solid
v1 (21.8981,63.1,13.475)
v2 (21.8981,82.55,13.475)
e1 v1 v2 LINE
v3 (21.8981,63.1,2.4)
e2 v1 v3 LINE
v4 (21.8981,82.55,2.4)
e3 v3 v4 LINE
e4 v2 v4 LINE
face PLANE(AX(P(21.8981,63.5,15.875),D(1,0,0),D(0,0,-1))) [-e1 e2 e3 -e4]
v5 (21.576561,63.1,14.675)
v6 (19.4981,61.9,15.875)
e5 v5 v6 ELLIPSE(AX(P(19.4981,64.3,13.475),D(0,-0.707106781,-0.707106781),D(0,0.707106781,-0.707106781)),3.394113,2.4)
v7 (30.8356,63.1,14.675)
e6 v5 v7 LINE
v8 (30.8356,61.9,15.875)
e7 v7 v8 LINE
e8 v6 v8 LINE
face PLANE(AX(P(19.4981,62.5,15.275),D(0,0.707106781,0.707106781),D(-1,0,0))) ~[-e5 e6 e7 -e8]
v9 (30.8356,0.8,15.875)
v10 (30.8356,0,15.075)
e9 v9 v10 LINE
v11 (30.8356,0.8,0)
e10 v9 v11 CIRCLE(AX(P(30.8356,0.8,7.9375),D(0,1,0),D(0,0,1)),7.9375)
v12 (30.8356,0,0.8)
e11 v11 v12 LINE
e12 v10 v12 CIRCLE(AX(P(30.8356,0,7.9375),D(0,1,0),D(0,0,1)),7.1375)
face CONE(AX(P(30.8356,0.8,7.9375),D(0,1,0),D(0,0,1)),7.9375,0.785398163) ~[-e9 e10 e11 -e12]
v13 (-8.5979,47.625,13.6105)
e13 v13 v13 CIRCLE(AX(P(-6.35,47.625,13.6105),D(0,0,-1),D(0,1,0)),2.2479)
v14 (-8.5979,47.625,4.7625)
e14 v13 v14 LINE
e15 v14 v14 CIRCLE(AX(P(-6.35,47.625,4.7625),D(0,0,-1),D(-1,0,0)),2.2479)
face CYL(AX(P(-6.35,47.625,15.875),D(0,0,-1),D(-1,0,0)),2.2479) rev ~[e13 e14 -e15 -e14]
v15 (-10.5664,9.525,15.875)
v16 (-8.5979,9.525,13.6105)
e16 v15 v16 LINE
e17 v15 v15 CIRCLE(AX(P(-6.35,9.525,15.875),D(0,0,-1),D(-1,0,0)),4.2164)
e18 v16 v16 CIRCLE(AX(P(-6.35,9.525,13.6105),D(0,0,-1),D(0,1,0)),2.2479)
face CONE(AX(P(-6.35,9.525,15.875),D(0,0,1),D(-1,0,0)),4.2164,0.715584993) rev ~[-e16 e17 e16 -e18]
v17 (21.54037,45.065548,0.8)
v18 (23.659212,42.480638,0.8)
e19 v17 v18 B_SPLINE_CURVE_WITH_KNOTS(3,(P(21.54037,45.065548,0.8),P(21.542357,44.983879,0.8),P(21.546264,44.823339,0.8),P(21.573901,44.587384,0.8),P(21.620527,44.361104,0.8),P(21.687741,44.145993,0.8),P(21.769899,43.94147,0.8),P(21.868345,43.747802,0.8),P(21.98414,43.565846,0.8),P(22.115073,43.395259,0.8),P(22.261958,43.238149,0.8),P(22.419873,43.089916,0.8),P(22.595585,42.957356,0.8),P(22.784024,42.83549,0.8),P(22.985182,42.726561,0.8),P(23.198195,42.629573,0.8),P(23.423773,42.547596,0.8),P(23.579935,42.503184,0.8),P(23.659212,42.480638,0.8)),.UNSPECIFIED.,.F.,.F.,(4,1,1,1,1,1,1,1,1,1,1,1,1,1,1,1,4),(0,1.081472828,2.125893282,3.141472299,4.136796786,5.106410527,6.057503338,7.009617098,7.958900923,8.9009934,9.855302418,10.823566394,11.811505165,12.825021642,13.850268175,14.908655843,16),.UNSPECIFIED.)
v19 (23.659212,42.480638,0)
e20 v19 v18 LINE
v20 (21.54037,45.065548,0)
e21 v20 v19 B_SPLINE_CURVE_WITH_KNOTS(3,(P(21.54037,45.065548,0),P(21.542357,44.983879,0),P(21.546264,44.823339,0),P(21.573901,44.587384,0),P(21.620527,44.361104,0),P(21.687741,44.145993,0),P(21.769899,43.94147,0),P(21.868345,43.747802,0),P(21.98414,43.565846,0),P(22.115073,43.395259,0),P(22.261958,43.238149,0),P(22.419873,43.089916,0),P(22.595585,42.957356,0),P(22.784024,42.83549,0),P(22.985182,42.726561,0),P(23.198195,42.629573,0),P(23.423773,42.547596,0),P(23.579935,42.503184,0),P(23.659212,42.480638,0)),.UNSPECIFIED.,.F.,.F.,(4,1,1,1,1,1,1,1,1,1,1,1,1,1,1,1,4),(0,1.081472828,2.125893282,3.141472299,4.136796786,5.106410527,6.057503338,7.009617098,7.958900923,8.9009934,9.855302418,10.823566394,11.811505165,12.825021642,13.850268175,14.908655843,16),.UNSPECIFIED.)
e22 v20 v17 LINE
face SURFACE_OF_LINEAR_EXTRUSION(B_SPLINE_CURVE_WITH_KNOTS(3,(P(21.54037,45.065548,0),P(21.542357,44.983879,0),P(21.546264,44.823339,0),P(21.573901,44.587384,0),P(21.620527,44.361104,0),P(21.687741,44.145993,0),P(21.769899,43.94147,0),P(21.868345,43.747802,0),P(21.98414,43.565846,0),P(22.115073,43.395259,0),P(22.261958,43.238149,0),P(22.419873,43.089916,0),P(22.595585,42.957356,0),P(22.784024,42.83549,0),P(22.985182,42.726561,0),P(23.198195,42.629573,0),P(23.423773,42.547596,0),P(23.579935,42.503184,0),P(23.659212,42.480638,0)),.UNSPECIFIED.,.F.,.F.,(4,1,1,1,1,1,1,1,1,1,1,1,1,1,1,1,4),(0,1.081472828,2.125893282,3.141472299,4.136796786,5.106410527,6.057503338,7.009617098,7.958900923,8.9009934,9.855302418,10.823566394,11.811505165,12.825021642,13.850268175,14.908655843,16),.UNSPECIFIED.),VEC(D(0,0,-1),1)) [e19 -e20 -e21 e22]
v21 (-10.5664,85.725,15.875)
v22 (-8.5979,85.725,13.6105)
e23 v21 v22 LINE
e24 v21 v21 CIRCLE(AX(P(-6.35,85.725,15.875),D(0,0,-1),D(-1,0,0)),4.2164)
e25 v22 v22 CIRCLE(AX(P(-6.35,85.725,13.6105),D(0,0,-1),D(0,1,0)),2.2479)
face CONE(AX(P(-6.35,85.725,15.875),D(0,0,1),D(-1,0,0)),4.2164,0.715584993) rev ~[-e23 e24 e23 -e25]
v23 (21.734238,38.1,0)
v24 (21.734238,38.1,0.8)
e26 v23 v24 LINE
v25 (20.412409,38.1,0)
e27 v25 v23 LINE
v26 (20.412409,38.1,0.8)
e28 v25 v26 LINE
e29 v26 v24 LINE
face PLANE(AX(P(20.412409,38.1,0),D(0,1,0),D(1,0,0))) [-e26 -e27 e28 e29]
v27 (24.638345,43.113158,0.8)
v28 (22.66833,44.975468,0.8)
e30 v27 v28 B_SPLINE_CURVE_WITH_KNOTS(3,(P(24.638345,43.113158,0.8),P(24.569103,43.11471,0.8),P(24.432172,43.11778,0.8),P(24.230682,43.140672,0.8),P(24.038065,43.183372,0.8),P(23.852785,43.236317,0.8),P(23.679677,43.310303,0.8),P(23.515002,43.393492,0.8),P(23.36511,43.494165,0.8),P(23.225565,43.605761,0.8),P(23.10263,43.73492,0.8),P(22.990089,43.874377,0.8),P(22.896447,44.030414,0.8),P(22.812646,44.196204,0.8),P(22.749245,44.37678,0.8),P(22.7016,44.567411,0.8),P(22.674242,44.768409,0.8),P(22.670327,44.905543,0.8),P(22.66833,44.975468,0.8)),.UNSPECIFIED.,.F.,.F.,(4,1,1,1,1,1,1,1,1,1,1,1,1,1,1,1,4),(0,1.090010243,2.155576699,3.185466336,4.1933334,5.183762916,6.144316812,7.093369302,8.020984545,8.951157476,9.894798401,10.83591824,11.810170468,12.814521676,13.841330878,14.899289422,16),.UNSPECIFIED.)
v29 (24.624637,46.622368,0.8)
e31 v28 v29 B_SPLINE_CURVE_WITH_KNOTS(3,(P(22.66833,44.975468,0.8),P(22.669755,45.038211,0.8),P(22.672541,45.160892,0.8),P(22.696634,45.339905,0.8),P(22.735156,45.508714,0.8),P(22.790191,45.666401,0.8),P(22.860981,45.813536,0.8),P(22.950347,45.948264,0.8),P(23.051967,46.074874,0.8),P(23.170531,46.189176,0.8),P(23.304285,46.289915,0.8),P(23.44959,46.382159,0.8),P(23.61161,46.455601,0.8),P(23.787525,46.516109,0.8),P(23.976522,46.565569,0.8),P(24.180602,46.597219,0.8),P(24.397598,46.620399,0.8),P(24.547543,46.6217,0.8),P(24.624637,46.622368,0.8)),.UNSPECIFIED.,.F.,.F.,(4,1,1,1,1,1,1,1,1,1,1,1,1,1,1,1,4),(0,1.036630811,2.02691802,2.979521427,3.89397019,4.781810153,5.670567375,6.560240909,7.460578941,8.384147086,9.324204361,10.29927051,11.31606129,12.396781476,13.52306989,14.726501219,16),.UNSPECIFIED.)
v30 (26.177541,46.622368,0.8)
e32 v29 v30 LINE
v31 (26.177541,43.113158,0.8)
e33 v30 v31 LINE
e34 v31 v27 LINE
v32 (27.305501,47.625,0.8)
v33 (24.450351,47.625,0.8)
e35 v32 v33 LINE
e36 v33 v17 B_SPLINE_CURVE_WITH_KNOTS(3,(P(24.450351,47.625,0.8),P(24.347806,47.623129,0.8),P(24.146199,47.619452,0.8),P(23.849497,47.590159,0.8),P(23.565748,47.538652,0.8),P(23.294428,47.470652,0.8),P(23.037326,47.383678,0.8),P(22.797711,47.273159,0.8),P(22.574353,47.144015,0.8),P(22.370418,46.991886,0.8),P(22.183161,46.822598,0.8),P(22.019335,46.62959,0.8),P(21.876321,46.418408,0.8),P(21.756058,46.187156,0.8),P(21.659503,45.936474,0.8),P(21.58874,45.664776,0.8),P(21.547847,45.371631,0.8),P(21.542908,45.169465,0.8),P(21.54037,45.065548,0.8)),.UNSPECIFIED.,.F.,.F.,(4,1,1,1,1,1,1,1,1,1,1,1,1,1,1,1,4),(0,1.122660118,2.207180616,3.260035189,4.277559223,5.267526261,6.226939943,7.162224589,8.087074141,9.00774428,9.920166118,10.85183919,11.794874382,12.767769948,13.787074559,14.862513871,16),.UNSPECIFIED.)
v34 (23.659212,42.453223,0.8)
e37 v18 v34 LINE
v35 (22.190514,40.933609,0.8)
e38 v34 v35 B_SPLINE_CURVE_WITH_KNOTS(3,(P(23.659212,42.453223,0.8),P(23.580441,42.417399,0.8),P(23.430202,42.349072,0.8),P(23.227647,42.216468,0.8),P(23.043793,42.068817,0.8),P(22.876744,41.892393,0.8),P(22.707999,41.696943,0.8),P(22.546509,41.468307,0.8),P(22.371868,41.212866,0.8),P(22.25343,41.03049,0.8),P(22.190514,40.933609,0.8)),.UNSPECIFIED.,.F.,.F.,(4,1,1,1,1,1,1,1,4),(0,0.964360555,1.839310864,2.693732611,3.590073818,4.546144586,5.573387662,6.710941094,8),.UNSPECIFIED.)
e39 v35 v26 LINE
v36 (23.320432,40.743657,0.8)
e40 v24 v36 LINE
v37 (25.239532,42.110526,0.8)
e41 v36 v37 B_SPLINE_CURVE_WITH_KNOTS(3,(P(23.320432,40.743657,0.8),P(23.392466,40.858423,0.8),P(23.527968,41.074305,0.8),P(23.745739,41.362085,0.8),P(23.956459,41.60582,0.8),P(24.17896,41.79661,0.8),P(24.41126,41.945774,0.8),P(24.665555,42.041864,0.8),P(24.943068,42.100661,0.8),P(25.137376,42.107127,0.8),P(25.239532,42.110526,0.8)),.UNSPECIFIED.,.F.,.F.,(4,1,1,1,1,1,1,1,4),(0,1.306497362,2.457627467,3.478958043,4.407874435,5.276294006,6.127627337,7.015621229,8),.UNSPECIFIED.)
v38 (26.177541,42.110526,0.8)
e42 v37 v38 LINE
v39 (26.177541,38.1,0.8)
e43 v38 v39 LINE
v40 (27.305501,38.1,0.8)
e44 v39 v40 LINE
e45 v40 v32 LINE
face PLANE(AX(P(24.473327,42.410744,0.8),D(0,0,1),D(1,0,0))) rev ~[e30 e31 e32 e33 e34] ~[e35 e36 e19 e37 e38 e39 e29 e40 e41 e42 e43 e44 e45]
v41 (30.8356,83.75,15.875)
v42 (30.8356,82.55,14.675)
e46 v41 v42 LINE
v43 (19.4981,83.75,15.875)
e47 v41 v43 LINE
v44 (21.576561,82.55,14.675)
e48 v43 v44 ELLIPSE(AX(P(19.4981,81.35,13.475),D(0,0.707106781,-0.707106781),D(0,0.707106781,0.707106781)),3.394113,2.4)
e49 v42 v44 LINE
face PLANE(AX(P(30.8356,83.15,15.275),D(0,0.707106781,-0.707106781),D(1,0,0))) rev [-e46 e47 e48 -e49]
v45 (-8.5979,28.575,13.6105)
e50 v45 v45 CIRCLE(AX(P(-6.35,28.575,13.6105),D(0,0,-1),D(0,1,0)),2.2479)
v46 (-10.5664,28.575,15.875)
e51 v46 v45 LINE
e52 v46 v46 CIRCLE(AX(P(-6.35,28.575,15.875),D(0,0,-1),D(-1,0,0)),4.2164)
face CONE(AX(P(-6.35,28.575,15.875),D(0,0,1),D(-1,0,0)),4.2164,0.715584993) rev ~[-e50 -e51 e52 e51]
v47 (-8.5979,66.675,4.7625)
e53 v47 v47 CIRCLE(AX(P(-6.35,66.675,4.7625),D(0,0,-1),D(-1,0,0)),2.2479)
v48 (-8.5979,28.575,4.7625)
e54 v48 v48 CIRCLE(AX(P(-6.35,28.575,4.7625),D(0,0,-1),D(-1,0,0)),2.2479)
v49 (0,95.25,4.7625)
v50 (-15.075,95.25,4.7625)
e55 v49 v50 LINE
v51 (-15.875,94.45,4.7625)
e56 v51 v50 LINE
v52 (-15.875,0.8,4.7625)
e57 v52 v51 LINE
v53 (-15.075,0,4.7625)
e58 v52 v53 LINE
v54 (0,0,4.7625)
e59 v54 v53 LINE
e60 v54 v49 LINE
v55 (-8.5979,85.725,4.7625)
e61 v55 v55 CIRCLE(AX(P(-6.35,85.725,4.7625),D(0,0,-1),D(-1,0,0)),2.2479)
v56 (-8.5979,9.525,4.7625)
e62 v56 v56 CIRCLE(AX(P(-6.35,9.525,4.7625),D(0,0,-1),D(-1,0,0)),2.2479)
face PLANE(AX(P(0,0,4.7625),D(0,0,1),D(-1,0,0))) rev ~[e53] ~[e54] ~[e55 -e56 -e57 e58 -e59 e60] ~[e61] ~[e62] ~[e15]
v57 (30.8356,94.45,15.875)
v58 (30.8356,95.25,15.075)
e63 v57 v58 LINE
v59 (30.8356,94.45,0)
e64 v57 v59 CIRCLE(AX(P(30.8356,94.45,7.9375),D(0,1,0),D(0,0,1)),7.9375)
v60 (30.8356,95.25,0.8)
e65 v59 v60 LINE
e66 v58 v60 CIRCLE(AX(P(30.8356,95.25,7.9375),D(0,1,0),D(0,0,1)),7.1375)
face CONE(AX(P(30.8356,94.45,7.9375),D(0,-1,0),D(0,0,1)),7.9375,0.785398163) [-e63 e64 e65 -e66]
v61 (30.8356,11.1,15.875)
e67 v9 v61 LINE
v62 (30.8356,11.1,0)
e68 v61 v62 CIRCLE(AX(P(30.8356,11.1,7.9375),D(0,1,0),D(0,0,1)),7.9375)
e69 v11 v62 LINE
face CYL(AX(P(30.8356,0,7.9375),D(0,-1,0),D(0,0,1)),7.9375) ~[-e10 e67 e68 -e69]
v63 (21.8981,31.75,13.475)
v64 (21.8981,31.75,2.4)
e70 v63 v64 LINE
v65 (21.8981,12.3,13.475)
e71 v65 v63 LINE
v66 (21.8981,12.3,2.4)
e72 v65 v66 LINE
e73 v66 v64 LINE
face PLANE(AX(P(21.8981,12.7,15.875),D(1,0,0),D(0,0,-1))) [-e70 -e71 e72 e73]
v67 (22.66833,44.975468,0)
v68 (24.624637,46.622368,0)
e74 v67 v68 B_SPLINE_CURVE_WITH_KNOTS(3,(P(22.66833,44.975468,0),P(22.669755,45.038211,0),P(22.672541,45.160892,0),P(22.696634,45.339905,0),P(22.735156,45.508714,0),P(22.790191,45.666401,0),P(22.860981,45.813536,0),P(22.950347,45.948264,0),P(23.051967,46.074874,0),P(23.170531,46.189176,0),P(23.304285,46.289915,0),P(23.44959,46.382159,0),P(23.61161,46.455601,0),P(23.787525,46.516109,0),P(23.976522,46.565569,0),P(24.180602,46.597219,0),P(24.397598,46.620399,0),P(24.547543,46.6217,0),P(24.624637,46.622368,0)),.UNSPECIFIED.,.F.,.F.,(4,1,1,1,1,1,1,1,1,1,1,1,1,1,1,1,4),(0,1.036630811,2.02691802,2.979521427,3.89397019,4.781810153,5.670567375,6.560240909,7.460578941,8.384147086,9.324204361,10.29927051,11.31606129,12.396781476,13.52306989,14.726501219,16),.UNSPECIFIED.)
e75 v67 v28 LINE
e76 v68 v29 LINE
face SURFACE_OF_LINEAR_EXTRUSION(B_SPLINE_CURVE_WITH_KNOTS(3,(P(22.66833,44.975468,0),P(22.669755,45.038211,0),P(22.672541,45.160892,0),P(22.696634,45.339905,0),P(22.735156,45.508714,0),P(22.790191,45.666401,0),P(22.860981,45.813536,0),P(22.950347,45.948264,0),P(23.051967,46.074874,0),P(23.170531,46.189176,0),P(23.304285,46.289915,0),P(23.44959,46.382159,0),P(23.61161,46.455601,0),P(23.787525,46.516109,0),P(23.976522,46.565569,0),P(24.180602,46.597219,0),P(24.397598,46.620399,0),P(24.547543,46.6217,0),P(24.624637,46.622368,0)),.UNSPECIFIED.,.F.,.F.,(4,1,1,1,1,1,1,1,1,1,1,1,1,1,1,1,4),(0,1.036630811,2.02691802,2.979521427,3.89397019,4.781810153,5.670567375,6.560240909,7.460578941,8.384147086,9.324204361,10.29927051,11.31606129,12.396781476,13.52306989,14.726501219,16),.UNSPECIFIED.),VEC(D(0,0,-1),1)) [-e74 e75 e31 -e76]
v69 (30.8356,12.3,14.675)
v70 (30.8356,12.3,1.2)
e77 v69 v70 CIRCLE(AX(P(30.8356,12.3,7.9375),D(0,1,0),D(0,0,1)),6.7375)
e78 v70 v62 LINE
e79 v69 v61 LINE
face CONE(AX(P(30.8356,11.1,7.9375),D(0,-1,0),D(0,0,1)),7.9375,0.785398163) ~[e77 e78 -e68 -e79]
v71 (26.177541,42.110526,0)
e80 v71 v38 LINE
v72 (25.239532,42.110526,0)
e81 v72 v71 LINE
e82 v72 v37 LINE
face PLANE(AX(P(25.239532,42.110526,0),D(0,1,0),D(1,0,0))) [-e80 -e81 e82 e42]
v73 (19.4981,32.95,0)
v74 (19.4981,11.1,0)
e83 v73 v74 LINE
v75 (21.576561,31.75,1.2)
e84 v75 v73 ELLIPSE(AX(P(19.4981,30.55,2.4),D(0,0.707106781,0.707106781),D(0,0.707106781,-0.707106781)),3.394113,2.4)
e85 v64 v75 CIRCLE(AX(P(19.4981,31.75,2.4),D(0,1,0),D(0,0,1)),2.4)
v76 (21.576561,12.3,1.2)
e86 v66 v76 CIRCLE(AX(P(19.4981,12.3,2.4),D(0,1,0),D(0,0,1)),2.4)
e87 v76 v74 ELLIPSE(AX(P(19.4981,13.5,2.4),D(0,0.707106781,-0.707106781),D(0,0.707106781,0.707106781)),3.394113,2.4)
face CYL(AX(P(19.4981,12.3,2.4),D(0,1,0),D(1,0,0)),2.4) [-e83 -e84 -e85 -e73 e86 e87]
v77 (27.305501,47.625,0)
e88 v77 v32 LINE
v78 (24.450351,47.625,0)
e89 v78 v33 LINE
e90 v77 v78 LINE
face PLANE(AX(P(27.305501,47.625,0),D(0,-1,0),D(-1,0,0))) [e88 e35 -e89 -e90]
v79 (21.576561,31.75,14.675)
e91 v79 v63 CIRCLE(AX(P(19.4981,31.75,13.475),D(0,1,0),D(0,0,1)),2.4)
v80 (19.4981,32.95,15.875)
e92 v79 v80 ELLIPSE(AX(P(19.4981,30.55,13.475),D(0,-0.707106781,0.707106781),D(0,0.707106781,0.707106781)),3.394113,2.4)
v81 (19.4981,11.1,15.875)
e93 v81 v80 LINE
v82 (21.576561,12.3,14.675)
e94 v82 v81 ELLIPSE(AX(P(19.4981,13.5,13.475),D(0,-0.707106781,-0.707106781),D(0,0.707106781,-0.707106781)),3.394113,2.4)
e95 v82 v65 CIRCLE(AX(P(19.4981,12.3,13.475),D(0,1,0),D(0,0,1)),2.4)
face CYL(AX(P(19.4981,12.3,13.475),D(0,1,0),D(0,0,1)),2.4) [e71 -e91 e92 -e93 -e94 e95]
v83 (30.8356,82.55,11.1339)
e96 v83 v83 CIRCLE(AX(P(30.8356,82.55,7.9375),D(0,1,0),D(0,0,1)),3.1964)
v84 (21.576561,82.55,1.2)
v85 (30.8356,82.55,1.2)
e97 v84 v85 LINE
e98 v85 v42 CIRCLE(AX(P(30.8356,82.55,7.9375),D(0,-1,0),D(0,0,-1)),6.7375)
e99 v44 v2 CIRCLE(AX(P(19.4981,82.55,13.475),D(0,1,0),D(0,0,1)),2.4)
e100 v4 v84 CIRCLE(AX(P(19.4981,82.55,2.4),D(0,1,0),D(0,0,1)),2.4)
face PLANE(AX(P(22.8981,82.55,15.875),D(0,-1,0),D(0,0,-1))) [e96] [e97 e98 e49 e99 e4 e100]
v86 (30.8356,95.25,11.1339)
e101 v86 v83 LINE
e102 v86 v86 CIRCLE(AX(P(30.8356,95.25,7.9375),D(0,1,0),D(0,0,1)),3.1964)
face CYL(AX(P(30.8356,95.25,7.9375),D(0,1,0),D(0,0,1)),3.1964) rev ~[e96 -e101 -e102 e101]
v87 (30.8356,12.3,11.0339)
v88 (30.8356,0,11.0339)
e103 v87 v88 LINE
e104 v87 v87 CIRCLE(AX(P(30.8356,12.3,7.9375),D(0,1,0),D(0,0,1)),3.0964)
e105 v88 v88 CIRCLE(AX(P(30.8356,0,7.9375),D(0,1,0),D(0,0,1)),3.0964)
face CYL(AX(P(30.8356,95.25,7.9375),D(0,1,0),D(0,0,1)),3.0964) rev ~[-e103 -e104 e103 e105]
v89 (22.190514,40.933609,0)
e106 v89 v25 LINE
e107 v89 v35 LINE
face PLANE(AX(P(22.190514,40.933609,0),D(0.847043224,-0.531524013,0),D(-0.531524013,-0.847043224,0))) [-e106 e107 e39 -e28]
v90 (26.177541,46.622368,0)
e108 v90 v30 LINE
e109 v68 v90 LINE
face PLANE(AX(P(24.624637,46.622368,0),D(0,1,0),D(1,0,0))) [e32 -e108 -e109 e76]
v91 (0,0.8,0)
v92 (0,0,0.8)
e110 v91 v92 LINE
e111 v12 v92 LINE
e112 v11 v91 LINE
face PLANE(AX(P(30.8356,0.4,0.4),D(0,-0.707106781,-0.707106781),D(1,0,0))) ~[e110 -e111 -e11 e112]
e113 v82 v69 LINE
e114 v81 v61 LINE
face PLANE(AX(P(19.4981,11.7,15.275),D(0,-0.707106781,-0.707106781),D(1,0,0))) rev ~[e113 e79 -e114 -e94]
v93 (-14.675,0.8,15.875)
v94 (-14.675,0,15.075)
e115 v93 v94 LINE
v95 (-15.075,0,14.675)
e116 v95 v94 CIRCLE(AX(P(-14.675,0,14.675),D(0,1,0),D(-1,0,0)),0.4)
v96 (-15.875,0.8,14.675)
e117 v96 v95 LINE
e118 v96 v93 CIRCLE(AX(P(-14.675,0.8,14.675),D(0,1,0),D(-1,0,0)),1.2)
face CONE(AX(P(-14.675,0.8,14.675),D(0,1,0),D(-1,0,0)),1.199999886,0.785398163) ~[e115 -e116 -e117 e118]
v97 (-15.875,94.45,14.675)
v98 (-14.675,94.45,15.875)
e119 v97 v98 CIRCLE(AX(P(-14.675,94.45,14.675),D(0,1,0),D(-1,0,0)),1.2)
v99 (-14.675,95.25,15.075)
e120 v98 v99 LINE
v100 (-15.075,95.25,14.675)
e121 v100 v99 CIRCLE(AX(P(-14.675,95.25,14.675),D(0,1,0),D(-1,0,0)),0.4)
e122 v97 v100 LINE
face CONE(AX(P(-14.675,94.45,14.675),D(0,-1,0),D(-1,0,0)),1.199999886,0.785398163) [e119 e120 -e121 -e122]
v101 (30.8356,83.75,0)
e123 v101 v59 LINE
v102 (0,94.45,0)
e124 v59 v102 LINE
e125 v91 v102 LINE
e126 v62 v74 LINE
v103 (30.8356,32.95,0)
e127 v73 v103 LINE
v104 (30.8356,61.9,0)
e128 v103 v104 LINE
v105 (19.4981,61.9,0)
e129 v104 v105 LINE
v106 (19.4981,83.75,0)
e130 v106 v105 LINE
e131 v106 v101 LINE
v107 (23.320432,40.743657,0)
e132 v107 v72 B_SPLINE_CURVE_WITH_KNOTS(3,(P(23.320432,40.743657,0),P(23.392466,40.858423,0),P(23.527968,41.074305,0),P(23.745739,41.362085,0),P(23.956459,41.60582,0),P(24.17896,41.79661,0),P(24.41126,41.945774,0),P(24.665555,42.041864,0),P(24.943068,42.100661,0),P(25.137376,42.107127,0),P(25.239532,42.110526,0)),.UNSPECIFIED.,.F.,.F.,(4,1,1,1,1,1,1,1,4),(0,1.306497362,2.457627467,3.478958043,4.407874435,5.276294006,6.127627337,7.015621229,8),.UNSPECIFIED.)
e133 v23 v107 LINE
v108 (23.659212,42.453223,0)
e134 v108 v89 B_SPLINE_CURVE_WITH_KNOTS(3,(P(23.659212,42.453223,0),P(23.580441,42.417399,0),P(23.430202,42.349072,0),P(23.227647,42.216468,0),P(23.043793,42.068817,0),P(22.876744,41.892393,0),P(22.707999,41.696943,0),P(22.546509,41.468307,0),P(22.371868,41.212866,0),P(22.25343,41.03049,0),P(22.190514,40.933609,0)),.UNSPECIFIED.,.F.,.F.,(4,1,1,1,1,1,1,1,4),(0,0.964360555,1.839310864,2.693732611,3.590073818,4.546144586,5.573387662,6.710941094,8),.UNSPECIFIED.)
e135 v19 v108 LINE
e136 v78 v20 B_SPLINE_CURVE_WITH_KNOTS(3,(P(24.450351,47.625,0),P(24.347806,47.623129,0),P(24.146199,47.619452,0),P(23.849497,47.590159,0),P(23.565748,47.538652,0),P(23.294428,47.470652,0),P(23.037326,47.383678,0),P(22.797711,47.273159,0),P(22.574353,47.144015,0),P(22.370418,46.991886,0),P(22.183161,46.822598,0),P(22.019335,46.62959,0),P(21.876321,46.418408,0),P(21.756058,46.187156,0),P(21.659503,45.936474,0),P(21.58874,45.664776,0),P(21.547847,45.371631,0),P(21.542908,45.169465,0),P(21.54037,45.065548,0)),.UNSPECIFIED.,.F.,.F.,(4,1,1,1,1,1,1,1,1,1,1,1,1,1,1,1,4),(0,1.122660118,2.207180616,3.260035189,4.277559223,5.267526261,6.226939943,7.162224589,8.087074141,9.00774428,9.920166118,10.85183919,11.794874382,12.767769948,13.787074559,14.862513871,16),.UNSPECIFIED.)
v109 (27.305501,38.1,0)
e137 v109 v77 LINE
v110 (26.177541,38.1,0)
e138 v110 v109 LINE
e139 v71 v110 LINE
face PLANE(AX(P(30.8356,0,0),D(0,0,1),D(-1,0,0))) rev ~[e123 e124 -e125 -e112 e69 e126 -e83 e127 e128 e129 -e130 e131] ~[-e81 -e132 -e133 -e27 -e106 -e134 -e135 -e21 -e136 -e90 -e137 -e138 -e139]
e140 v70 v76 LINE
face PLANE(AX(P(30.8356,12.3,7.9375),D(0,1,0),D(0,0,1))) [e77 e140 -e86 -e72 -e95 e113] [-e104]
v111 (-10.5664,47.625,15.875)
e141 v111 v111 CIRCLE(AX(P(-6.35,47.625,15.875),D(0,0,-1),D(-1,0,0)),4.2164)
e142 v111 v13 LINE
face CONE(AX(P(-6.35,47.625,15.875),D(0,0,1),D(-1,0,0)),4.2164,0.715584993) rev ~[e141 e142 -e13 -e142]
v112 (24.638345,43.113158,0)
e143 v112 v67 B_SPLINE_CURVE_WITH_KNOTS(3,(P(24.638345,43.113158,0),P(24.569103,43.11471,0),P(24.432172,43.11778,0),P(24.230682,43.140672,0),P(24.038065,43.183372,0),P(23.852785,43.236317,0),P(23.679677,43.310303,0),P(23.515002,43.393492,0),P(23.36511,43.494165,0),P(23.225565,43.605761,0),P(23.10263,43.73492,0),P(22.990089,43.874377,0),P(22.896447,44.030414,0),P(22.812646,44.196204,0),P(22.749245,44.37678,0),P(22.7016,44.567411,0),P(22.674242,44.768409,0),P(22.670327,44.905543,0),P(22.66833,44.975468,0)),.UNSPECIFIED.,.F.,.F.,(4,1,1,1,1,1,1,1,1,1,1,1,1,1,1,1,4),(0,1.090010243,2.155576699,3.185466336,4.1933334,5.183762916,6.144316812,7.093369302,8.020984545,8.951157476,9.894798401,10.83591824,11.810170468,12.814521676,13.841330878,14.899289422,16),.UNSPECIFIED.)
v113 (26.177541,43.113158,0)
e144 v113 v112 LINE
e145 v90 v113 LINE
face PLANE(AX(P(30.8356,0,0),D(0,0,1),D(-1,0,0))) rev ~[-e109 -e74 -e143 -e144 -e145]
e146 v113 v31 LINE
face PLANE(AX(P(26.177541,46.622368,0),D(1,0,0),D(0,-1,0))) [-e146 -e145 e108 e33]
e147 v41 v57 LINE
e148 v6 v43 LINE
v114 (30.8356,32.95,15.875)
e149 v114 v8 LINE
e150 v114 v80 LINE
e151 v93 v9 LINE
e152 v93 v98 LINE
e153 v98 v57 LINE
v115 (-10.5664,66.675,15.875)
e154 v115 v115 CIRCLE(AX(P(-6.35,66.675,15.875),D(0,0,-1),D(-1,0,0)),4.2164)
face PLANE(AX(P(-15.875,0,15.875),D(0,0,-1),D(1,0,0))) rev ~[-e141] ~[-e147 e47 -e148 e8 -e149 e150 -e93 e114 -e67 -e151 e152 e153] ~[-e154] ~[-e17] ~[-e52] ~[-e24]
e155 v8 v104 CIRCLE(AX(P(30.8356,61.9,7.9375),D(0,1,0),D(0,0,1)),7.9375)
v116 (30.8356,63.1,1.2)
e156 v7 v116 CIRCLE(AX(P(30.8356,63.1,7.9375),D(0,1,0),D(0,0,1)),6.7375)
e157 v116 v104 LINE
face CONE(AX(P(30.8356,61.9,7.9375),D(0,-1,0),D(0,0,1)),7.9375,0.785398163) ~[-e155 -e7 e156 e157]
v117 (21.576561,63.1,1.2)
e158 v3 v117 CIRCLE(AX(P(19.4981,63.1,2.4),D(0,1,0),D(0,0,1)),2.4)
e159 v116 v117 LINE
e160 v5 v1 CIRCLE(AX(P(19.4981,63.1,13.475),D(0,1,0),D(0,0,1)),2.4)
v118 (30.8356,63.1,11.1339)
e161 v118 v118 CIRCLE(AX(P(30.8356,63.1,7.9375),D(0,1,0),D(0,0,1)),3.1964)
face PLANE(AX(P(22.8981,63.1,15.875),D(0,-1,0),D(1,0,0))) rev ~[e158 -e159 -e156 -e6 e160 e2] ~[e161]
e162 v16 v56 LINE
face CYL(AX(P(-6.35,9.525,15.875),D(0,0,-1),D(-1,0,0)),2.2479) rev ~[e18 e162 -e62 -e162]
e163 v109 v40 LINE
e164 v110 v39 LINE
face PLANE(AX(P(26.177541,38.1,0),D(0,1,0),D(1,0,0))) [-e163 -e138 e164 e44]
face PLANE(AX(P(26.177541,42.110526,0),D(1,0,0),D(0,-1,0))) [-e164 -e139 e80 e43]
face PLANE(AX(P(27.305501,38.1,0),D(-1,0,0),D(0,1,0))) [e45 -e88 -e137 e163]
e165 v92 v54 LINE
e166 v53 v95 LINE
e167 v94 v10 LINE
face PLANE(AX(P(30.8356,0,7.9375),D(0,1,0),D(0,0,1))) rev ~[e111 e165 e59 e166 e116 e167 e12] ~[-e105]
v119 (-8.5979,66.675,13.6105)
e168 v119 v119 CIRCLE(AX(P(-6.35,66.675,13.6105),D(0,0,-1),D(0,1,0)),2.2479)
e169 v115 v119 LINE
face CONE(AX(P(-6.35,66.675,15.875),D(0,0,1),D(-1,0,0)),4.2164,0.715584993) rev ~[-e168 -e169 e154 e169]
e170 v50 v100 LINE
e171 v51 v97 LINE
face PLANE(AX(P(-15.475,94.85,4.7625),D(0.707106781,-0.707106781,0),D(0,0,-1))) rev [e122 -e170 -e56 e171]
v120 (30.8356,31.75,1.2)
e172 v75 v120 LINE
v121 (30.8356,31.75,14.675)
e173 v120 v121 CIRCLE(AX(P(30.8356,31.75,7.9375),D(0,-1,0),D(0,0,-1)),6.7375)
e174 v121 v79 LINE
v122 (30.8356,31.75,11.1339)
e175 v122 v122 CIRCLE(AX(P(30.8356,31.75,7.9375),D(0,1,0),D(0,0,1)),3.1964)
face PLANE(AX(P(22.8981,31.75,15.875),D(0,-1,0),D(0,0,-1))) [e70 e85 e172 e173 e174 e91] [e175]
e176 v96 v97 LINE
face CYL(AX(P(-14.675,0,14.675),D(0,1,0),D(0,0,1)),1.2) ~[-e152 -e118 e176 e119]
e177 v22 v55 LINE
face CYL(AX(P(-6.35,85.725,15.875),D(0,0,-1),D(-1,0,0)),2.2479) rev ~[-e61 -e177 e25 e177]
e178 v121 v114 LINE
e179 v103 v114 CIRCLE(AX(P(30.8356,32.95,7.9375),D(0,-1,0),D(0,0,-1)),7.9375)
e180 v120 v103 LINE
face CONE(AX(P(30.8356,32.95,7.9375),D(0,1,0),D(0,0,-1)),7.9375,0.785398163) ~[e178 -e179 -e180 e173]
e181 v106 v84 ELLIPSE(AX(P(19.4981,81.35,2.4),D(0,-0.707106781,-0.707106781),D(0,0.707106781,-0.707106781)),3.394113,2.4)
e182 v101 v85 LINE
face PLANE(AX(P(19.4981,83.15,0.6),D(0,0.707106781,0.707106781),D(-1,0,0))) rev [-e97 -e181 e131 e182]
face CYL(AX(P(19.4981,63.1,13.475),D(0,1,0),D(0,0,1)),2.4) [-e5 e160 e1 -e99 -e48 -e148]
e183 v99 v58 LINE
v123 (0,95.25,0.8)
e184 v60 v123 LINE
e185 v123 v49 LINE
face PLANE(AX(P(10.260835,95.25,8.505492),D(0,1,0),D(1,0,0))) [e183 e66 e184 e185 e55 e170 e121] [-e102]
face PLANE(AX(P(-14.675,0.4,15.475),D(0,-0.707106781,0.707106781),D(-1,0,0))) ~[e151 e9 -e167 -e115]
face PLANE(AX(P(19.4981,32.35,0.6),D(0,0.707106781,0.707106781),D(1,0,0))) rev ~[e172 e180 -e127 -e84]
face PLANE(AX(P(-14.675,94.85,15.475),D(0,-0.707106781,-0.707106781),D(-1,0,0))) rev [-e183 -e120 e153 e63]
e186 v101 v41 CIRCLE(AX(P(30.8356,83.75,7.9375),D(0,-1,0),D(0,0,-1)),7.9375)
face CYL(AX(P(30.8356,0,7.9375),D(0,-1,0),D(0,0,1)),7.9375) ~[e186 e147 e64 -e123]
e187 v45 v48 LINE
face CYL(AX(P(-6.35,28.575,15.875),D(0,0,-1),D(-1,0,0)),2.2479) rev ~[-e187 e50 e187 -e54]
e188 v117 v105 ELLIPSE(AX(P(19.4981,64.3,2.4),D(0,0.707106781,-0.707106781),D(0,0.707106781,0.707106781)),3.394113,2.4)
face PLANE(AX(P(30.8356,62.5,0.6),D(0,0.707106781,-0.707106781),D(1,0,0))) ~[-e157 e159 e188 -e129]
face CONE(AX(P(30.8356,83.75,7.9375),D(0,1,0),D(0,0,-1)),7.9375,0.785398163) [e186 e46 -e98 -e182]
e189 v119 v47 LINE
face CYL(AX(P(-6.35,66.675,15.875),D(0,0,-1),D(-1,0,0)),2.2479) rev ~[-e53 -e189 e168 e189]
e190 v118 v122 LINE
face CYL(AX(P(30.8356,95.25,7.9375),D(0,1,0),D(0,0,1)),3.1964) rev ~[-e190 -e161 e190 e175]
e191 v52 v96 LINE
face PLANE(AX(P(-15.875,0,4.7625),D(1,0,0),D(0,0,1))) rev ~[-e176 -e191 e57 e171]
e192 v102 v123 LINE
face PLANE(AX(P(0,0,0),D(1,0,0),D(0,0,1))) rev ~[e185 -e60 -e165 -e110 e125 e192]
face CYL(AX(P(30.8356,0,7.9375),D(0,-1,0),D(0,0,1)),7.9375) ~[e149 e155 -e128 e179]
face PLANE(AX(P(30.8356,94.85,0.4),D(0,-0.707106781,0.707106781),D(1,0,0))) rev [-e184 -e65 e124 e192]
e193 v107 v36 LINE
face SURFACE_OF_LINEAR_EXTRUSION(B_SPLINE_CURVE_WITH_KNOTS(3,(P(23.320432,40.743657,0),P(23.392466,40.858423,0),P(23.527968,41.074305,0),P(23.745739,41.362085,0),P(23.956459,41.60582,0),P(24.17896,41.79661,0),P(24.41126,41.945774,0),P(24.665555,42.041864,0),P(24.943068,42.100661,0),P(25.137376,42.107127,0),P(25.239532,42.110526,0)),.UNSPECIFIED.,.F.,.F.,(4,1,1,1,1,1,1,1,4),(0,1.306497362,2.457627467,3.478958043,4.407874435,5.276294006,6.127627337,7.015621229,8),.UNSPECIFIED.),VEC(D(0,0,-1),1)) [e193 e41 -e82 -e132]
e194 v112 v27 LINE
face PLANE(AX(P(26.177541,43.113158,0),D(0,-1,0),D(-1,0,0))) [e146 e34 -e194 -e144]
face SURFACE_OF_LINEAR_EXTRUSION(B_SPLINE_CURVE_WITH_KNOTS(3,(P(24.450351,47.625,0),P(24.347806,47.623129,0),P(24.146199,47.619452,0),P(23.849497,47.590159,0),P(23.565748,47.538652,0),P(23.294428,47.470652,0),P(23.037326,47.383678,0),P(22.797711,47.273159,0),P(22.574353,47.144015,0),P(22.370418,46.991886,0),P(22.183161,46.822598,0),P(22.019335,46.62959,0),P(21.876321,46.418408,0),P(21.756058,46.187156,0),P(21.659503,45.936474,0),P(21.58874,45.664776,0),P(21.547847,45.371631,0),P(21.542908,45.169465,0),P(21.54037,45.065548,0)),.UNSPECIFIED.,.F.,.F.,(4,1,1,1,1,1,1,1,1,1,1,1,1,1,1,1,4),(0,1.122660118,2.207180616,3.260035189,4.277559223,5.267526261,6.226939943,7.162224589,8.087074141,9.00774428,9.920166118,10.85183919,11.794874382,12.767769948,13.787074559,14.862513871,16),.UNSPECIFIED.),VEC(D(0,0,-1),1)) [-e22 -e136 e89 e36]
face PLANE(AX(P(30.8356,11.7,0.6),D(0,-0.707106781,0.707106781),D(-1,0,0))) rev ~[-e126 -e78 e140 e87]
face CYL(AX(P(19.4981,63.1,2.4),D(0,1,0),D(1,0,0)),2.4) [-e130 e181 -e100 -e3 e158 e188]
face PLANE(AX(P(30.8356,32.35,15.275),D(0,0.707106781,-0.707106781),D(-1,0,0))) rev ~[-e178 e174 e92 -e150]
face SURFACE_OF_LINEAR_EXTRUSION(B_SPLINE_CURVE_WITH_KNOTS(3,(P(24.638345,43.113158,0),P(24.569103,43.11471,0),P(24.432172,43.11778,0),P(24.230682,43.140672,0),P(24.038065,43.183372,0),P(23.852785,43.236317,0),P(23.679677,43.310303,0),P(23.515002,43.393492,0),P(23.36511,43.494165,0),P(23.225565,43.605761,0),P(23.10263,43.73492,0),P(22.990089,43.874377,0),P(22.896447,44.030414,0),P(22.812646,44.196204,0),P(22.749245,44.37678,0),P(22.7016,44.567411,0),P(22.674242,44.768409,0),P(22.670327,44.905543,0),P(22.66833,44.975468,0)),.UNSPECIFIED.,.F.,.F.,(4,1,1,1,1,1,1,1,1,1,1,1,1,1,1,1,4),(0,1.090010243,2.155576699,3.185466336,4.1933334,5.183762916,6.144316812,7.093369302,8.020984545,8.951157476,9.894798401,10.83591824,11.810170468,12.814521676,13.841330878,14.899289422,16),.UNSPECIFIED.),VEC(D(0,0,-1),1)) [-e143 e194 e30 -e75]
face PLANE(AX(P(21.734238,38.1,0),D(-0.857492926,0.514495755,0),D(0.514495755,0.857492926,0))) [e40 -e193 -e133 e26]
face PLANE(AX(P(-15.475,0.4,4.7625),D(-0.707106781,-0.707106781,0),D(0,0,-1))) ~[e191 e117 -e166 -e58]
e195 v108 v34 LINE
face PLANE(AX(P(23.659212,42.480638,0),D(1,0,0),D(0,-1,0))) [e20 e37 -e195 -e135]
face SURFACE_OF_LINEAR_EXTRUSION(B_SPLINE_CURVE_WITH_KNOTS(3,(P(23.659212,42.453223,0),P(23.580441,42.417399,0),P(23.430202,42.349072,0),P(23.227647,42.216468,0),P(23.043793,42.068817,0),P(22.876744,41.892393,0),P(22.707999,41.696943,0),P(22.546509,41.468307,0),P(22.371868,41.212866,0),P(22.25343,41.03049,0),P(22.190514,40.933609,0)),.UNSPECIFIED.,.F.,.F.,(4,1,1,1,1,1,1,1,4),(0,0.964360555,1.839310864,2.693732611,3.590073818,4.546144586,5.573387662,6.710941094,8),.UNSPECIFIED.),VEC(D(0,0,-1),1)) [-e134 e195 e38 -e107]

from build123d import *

# Parameters (mm, degrees)
BOSS_EXTRUDE1_DEPTH                            = 95.25
CSK_FOR_8_FLAT_HEAD_MACHINE_SCREW1_D           = 4.4958
CSK_FOR_8_FLAT_HEAD_MACHINE_SCREW1_CSINK_D     = 8.4328
CSK_FOR_8_FLAT_HEAD_MACHINE_SCREW1_CSINK_ANGLE = 82
SKETCH2_R                                      = 2.9464
CUT_EXTRUDE1_DEPTH                             = 105.057346731
MOVE_FACE1_BY                                  = 0.250000008
SKETCH6_W                                      = 15.875
SKETCH6_H                                      = 19.05
CUT_EXTRUDE2_DEPTH                             = 105.057346731
MOVE_FACE2_BY                                  = 0.399999962
MOVE_FACE2_2_BY                                = 0.399999962
MOVE_FACE3_BY                                  = 1.000000032
MOVE_FACE3_2_BY                                = 1.000000032
MOVE_FACE4_BY                                  = 0.100000054
FILLET1_R                                      = 1.199999886
FILLET2_R                                      = 2.400000026
CHAMFER1_SIZE                                  = 0.799999924
CHAMFER2_SIZE                                  = 1.199999886
CUT_EXTRUDE3_DEPTH                             = 0.799999924


with BuildPart() as part:
    # Sketch1 → Boss-Extrude1 (new body)
    with BuildSketch(Plane(origin=(0, 0, 0), x_dir=(1, 0, 0), z_dir=(0, 1, 0))):
        with BuildLine():
            Line((-15.875, -4.7625), (-15.875, -15.875))
            Line((-15.875, -15.875), (30.8356, -15.875))
            ThreePointArc((30.8356, -15.875), (38.7731, -7.9375), (30.8356, 0))
            Line((30.8356, 0), (0, 0))
            Line((0, 0), (0, -4.7625))
            Line((0, -4.7625), (-15.875, -4.7625))
        make_face()
    extrude(amount=BOSS_EXTRUDE1_DEPTH)

    # CSK for #8 Flat Head Machine Screw1 (through all)
    with Locations(Plane.XY.offset(15.875)):
        with Locations((-6.35, 85.725), (-6.35, 66.675), (-6.35, 47.625), (-6.35, 28.575), (-6.35, 9.525)):
            CounterSinkHole(CSK_FOR_8_FLAT_HEAD_MACHINE_SCREW1_D / 2, CSK_FOR_8_FLAT_HEAD_MACHINE_SCREW1_CSINK_D / 2, counter_sink_angle=CSK_FOR_8_FLAT_HEAD_MACHINE_SCREW1_CSINK_ANGLE)

    # Sketch2 → Cut-Extrude1 (cut, through all)
    with BuildSketch(Plane(origin=(0, 95.25, 0), x_dir=(1, 0, 0), z_dir=(0, 1, 0))):
        with Locations(Location((30.8356, -7.9375, 0), (0, 0, 270))):
            Circle(SKETCH2_R)
    extrude(amount=-CUT_EXTRUDE1_DEPTH, mode=Mode.SUBTRACT)

    # Move Face1: a curved face moved inward by 0.25
    add(Solid.thicken(part.faces().sort_by_distance((30.8356, 47.625, 4.9911))[0], -MOVE_FACE1_BY), mode=Mode.SUBTRACT)

    # Sketch6 → Cut-Extrude2 (cut, through all)
    with BuildSketch(Plane.XY.offset(15.875)):
        with Locations((30.8356, 73.025)):
            Rectangle(SKETCH6_W, SKETCH6_H)
        with Locations((30.8356, 22.225)):
            Rectangle(SKETCH6_W, SKETCH6_H)
    extrude(amount=-CUT_EXTRUDE2_DEPTH, mode=Mode.SUBTRACT)

    # Move Face2: a face moved inward by 0.4
    extrude(part.faces().sort_by_distance((30.8356, 12.7, 3.96875))[0], amount=MOVE_FACE2_BY, dir=(0, -1, 0), mode=Mode.SUBTRACT)

    # Move Face2 2: a face moved inward by 0.4
    extrude(part.faces().sort_by_distance((30.8356, 63.5, 3.96875))[0], amount=MOVE_FACE2_2_BY, dir=(0, -1, 0), mode=Mode.SUBTRACT)

    # Move Face3: a face moved inward by 1.0
    extrude(part.faces().sort_by_distance((22.8981, 72.825000019, 7.9375))[0], amount=MOVE_FACE3_BY, dir=(-1, 0, 0), mode=Mode.SUBTRACT)

    # Move Face3 2: a face moved inward by 1.0
    extrude(part.faces().sort_by_distance((22.8981, 22.025000019, 7.9375))[0], amount=MOVE_FACE3_2_BY, dir=(-1, 0, 0), mode=Mode.SUBTRACT)

    # Move Face4: a curved face moved outward by 0.1
    add(Solid.thicken(part.faces().sort_by_distance((30.8356, 6.150000019, 4.741099992))[0], MOVE_FACE4_BY))

    # Fillet1
    fillet1_edges = [part.edges().sort_by_distance(p)[0] for p in [
        (-15.875, 47.625, 15.875),
    ]]
    fillet(fillet1_edges, radius=FILLET1_R)

    # Fillet2
    fillet2_edges = [part.edges().sort_by_distance(p)[0] for p in [
        (21.898099968, 72.825000019, 0),
        (21.898099968, 72.825000019, 15.875),
        (21.898099968, 22.025000019, 0),
        (21.898099968, 22.025000019, 15.875),
    ]]
    fillet(fillet2_edges, radius=FILLET2_R)

    # Chamfer1
    chamfer1_edges = [part.edges().sort_by_distance(p)[0] for p in [
        (8.080299943, 95.25, 15.875),
        (8.080299943, 0, 15.875),
        (-15.523528171, 0, 15.523528171),
        (-15.523528171, 95.25, 15.523528171),
        (38.7731, 95.25, 7.9375),
        (15.4178, 95.25, 0),
        (15.4178, 0, 0),
        (38.7731, 0, 7.9375),
        (-15.875, 0, 9.718750057),
        (-15.875, 95.25, 9.718750057),
    ]]
    chamfer(chamfer1_edges, length=CHAMFER1_SIZE)

    # Chamfer2
    chamfer2_edges = [part.edges().sort_by_distance(p)[0] for p in [
        (38.7731, 82.55, 7.9375),
        (25.166849971, 82.55, 0),
        (25.166849971, 63.100000038, 0),
        (38.7731, 63.100000038, 7.9375),
        (25.166849971, 82.55, 15.875),
        (25.166849971, 63.100000038, 15.875),
        (38.7731, 31.75, 7.9375),
        (25.166849971, 31.75, 0),
        (25.166849971, 12.300000038, 0),
        (38.7731, 12.300000038, 7.9375),
        (25.166849971, 31.75, 15.875),
        (25.166849971, 12.300000038, 15.875),
    ]]
    chamfer(chamfer2_edges, length=CHAMFER2_SIZE)


with BuildPart() as body_2:
    # Mirror1: mirrored copy
    add(part.part.mirror(Plane(origin=(0, 0, 0), x_dir=(0, 0, 1), z_dir=(1, 0, 0))))


with BuildPart() as cut_extrude3_tool:
    # Sketch7 → Cut-Extrude3 (new body)
    # profile 1 of 2: a face of its own
    with BuildSketch(Plane(origin=(0, 0, 0), x_dir=(-1, 0, 0), z_dir=(0, 0, -1))):
        with BuildLine():
            Line((-20.412409211, 38.1), (-21.734237952, 38.1))
            Line((-21.734237952, 38.1), (-23.320432442, 40.743657484))
            add(Edge.make_bspline(
                [(-23.320432442, 40.743657484), (-23.39246628, 40.858422627), (-23.52796777, 41.074305166), (-23.74573892, 41.362084605), (-23.956458509, 41.605820363), (-24.178959725, 41.796609957), (-24.411259949, 41.945774465), (-24.66555501, 42.041863685), (-24.94306761, 42.100661436), (-25.137376333, 42.107127078), (-25.239531949, 42.110526316)],
                knots=[0, 0, 0, 0, 1.306497362, 2.457627467, 3.478958043, 4.407874435, 5.276294006, 6.127627337, 7.015621229, 8, 8, 8, 8], degree=3))
            Line((-25.239531949, 42.110526316), (-26.177540789, 42.110526316))
            Line((-26.177540789, 42.110526316), (-26.177540789, 38.1))
            Line((-26.177540789, 38.1), (-27.305501316, 38.1))
            Line((-27.305501316, 38.1), (-27.305501316, 47.625))
            Line((-27.305501316, 47.625), (-24.450351234, 47.625))
            add(Edge.make_bspline(
                [(-24.450351234, 47.625), (-24.347806001, 47.623129418), (-24.146199259, 47.619451803), (-23.849497415, 47.590158509), (-23.565748079, 47.538652332), (-23.294428494, 47.470652115), (-23.037326038, 47.383677735), (-22.797710845, 47.273159326), (-22.57435286, 47.144015465), (-22.370417771, 46.991886303), (-22.183160925, 46.822598362), (-22.019334584, 46.629590128), (-21.876320998, 46.418408005), (-21.756058405, 46.187155813), (-21.659502559, 45.936474231), (-21.588740249, 45.664775603), (-21.547846501, 45.371631063), (-21.542908146, 45.169465091), (-21.540369737, 45.065547903)],
                knots=[0, 0, 0, 0, 1.122660118, 2.207180616, 3.260035189, 4.277559223, 5.267526261, 6.226939943, 7.162224589, 8.087074141, 9.00774428, 9.920166118, 10.85183919, 11.794874382, 12.767769948, 13.787074559, 14.862513871, 16, 16, 16, 16], degree=3))
            add(Edge.make_bspline(
                [(-21.540369737, 45.065547903), (-21.542357217, 44.983878967), (-21.546264084, 44.823339156), (-21.57390063, 44.587383869), (-21.620526513, 44.361103987), (-21.687741358, 44.145993266), (-21.769898701, 43.941469561), (-21.868344577, 43.74780219), (-21.984139869, 43.565845661), (-22.115072733, 43.395259432), (-22.261958201, 43.238149058), (-22.419872875, 43.089916318), (-22.595585255, 42.957356067), (-22.784024282, 42.835490164), (-22.985181681, 42.726560713), (-23.198195231, 42.629572918), (-23.423773409, 42.547595818), (-23.579934628, 42.503184465), (-23.659212253, 42.480638363)],
                knots=[0, 0, 0, 0, 1.081472828, 2.125893282, 3.141472299, 4.136796786, 5.106410527, 6.057503338, 7.009617098, 7.958900923, 8.9009934, 9.855302418, 10.823566394, 11.811505165, 12.825021642, 13.850268175, 14.908655843, 16, 16, 16, 16], degree=3))
            Line((-23.659212253, 42.480638363), (-23.659212253, 42.453222656))
            add(Edge.make_bspline(
                [(-23.659212253, 42.453222656), (-23.580440976, 42.417398664), (-23.430201665, 42.349072086), (-23.227647339, 42.216467885), (-23.043792737, 42.06881687), (-22.876744064, 41.892393409), (-22.707999377, 41.696943007), (-22.5465086, 41.468307362), (-22.37186832, 41.212866322), (-22.253430103, 41.030490431), (-22.190513651, 40.933609169)],
                knots=[0, 0, 0, 0, 0.964360555, 1.839310864, 2.693732611, 3.590073818, 4.546144586, 5.573387662, 6.710941094, 8, 8, 8, 8], degree=3))
            Line((-22.190513651, 40.933609169), (-20.412409211, 38.1))
        make_face()
        with BuildLine():
            Line((-26.177540789, 46.622368421), (-26.177540789, 43.113157895))
            Line((-26.177540789, 43.113157895), (-24.638344655, 43.113157895))
            add(Edge.make_bspline(
                [(-24.638344655, 43.113157895), (-24.569102811, 43.114710218), (-24.432171893, 43.117780052), (-24.230682013, 43.140672174), (-24.038064572, 43.183371896), (-23.852785081, 43.236317079), (-23.679677481, 43.310303445), (-23.515001668, 43.393491968), (-23.365110484, 43.494164986), (-23.225565012, 43.605761469), (-23.10263029, 43.734919697), (-22.990088563, 43.874377459), (-22.896446885, 44.030414223), (-22.812645632, 44.196203849), (-22.749245008, 44.376780257), (-22.701600246, 44.56741074), (-22.674241595, 44.768408501), (-22.670326553, 44.905542676), (-22.668330263, 44.975467722)],
                knots=[0, 0, 0, 0, 1.090010243, 2.155576699, 3.185466336, 4.1933334, 5.183762916, 6.144316812, 7.093369302, 8.020984545, 8.951157476, 9.894798401, 10.83591824, 11.810170468, 12.814521676, 13.841330878, 14.899289422, 16, 16, 16, 16], degree=3))
            add(Edge.make_bspline(
                [(-22.668330263, 44.975467722), (-22.669755188, 45.038210828), (-22.672541335, 45.160892047), (-22.696634379, 45.339904799), (-22.73515642, 45.508714327), (-22.790191358, 45.666401453), (-22.860981229, 45.813536083), (-22.950346987, 45.948264178), (-23.05196724, 46.074873626), (-23.170530652, 46.18917611), (-23.304284867, 46.289915007), (-23.449590319, 46.382158658), (-23.611610469, 46.455601424), (-23.787524875, 46.51610884), (-23.976521707, 46.565569479), (-24.180601911, 46.597218806), (-24.397597512, 46.620398699), (-24.547543149, 46.62169958), (-24.624636801, 46.622368421)],
                knots=[0, 0, 0, 0, 1.036630811, 2.02691802, 2.979521427, 3.89397019, 4.781810153, 5.670567375, 6.560240909, 7.460578941, 8.384147086, 9.324204361, 10.29927051, 11.31606129, 12.396781476, 13.52306989, 14.726501219, 16, 16, 16, 16], degree=3))
            Line((-24.624636801, 46.622368421), (-26.177540789, 46.622368421))
        make_face(mode=Mode.SUBTRACT)
    # profile 2 of 2: a face of its own
    with BuildSketch(Plane(origin=(0, 0, 0), x_dir=(-1, 0, 0), z_dir=(0, 0, -1))):
        Polygon((27.430830263, 38.1), (22.543001316, 38.1), (22.543001316, 47.625), (23.670961842, 47.625), (23.670961842, 39.102631579), (27.430830263, 39.102631579), align=None)
    extrude(amount=-CUT_EXTRUDE3_DEPTH)


with BuildPart() as part_1:
    add(part.part)

    # Cut-Extrude3: cut by cut_extrude3_tool
    add(cut_extrude3_tool.part, mode=Mode.SUBTRACT)


with BuildPart() as body_2_1:
    add(body_2.part)

    # Cut-Extrude3: cut by cut_extrude3_tool
    add(cut_extrude3_tool.part, mode=Mode.SUBTRACT)


solid = part_1.part
